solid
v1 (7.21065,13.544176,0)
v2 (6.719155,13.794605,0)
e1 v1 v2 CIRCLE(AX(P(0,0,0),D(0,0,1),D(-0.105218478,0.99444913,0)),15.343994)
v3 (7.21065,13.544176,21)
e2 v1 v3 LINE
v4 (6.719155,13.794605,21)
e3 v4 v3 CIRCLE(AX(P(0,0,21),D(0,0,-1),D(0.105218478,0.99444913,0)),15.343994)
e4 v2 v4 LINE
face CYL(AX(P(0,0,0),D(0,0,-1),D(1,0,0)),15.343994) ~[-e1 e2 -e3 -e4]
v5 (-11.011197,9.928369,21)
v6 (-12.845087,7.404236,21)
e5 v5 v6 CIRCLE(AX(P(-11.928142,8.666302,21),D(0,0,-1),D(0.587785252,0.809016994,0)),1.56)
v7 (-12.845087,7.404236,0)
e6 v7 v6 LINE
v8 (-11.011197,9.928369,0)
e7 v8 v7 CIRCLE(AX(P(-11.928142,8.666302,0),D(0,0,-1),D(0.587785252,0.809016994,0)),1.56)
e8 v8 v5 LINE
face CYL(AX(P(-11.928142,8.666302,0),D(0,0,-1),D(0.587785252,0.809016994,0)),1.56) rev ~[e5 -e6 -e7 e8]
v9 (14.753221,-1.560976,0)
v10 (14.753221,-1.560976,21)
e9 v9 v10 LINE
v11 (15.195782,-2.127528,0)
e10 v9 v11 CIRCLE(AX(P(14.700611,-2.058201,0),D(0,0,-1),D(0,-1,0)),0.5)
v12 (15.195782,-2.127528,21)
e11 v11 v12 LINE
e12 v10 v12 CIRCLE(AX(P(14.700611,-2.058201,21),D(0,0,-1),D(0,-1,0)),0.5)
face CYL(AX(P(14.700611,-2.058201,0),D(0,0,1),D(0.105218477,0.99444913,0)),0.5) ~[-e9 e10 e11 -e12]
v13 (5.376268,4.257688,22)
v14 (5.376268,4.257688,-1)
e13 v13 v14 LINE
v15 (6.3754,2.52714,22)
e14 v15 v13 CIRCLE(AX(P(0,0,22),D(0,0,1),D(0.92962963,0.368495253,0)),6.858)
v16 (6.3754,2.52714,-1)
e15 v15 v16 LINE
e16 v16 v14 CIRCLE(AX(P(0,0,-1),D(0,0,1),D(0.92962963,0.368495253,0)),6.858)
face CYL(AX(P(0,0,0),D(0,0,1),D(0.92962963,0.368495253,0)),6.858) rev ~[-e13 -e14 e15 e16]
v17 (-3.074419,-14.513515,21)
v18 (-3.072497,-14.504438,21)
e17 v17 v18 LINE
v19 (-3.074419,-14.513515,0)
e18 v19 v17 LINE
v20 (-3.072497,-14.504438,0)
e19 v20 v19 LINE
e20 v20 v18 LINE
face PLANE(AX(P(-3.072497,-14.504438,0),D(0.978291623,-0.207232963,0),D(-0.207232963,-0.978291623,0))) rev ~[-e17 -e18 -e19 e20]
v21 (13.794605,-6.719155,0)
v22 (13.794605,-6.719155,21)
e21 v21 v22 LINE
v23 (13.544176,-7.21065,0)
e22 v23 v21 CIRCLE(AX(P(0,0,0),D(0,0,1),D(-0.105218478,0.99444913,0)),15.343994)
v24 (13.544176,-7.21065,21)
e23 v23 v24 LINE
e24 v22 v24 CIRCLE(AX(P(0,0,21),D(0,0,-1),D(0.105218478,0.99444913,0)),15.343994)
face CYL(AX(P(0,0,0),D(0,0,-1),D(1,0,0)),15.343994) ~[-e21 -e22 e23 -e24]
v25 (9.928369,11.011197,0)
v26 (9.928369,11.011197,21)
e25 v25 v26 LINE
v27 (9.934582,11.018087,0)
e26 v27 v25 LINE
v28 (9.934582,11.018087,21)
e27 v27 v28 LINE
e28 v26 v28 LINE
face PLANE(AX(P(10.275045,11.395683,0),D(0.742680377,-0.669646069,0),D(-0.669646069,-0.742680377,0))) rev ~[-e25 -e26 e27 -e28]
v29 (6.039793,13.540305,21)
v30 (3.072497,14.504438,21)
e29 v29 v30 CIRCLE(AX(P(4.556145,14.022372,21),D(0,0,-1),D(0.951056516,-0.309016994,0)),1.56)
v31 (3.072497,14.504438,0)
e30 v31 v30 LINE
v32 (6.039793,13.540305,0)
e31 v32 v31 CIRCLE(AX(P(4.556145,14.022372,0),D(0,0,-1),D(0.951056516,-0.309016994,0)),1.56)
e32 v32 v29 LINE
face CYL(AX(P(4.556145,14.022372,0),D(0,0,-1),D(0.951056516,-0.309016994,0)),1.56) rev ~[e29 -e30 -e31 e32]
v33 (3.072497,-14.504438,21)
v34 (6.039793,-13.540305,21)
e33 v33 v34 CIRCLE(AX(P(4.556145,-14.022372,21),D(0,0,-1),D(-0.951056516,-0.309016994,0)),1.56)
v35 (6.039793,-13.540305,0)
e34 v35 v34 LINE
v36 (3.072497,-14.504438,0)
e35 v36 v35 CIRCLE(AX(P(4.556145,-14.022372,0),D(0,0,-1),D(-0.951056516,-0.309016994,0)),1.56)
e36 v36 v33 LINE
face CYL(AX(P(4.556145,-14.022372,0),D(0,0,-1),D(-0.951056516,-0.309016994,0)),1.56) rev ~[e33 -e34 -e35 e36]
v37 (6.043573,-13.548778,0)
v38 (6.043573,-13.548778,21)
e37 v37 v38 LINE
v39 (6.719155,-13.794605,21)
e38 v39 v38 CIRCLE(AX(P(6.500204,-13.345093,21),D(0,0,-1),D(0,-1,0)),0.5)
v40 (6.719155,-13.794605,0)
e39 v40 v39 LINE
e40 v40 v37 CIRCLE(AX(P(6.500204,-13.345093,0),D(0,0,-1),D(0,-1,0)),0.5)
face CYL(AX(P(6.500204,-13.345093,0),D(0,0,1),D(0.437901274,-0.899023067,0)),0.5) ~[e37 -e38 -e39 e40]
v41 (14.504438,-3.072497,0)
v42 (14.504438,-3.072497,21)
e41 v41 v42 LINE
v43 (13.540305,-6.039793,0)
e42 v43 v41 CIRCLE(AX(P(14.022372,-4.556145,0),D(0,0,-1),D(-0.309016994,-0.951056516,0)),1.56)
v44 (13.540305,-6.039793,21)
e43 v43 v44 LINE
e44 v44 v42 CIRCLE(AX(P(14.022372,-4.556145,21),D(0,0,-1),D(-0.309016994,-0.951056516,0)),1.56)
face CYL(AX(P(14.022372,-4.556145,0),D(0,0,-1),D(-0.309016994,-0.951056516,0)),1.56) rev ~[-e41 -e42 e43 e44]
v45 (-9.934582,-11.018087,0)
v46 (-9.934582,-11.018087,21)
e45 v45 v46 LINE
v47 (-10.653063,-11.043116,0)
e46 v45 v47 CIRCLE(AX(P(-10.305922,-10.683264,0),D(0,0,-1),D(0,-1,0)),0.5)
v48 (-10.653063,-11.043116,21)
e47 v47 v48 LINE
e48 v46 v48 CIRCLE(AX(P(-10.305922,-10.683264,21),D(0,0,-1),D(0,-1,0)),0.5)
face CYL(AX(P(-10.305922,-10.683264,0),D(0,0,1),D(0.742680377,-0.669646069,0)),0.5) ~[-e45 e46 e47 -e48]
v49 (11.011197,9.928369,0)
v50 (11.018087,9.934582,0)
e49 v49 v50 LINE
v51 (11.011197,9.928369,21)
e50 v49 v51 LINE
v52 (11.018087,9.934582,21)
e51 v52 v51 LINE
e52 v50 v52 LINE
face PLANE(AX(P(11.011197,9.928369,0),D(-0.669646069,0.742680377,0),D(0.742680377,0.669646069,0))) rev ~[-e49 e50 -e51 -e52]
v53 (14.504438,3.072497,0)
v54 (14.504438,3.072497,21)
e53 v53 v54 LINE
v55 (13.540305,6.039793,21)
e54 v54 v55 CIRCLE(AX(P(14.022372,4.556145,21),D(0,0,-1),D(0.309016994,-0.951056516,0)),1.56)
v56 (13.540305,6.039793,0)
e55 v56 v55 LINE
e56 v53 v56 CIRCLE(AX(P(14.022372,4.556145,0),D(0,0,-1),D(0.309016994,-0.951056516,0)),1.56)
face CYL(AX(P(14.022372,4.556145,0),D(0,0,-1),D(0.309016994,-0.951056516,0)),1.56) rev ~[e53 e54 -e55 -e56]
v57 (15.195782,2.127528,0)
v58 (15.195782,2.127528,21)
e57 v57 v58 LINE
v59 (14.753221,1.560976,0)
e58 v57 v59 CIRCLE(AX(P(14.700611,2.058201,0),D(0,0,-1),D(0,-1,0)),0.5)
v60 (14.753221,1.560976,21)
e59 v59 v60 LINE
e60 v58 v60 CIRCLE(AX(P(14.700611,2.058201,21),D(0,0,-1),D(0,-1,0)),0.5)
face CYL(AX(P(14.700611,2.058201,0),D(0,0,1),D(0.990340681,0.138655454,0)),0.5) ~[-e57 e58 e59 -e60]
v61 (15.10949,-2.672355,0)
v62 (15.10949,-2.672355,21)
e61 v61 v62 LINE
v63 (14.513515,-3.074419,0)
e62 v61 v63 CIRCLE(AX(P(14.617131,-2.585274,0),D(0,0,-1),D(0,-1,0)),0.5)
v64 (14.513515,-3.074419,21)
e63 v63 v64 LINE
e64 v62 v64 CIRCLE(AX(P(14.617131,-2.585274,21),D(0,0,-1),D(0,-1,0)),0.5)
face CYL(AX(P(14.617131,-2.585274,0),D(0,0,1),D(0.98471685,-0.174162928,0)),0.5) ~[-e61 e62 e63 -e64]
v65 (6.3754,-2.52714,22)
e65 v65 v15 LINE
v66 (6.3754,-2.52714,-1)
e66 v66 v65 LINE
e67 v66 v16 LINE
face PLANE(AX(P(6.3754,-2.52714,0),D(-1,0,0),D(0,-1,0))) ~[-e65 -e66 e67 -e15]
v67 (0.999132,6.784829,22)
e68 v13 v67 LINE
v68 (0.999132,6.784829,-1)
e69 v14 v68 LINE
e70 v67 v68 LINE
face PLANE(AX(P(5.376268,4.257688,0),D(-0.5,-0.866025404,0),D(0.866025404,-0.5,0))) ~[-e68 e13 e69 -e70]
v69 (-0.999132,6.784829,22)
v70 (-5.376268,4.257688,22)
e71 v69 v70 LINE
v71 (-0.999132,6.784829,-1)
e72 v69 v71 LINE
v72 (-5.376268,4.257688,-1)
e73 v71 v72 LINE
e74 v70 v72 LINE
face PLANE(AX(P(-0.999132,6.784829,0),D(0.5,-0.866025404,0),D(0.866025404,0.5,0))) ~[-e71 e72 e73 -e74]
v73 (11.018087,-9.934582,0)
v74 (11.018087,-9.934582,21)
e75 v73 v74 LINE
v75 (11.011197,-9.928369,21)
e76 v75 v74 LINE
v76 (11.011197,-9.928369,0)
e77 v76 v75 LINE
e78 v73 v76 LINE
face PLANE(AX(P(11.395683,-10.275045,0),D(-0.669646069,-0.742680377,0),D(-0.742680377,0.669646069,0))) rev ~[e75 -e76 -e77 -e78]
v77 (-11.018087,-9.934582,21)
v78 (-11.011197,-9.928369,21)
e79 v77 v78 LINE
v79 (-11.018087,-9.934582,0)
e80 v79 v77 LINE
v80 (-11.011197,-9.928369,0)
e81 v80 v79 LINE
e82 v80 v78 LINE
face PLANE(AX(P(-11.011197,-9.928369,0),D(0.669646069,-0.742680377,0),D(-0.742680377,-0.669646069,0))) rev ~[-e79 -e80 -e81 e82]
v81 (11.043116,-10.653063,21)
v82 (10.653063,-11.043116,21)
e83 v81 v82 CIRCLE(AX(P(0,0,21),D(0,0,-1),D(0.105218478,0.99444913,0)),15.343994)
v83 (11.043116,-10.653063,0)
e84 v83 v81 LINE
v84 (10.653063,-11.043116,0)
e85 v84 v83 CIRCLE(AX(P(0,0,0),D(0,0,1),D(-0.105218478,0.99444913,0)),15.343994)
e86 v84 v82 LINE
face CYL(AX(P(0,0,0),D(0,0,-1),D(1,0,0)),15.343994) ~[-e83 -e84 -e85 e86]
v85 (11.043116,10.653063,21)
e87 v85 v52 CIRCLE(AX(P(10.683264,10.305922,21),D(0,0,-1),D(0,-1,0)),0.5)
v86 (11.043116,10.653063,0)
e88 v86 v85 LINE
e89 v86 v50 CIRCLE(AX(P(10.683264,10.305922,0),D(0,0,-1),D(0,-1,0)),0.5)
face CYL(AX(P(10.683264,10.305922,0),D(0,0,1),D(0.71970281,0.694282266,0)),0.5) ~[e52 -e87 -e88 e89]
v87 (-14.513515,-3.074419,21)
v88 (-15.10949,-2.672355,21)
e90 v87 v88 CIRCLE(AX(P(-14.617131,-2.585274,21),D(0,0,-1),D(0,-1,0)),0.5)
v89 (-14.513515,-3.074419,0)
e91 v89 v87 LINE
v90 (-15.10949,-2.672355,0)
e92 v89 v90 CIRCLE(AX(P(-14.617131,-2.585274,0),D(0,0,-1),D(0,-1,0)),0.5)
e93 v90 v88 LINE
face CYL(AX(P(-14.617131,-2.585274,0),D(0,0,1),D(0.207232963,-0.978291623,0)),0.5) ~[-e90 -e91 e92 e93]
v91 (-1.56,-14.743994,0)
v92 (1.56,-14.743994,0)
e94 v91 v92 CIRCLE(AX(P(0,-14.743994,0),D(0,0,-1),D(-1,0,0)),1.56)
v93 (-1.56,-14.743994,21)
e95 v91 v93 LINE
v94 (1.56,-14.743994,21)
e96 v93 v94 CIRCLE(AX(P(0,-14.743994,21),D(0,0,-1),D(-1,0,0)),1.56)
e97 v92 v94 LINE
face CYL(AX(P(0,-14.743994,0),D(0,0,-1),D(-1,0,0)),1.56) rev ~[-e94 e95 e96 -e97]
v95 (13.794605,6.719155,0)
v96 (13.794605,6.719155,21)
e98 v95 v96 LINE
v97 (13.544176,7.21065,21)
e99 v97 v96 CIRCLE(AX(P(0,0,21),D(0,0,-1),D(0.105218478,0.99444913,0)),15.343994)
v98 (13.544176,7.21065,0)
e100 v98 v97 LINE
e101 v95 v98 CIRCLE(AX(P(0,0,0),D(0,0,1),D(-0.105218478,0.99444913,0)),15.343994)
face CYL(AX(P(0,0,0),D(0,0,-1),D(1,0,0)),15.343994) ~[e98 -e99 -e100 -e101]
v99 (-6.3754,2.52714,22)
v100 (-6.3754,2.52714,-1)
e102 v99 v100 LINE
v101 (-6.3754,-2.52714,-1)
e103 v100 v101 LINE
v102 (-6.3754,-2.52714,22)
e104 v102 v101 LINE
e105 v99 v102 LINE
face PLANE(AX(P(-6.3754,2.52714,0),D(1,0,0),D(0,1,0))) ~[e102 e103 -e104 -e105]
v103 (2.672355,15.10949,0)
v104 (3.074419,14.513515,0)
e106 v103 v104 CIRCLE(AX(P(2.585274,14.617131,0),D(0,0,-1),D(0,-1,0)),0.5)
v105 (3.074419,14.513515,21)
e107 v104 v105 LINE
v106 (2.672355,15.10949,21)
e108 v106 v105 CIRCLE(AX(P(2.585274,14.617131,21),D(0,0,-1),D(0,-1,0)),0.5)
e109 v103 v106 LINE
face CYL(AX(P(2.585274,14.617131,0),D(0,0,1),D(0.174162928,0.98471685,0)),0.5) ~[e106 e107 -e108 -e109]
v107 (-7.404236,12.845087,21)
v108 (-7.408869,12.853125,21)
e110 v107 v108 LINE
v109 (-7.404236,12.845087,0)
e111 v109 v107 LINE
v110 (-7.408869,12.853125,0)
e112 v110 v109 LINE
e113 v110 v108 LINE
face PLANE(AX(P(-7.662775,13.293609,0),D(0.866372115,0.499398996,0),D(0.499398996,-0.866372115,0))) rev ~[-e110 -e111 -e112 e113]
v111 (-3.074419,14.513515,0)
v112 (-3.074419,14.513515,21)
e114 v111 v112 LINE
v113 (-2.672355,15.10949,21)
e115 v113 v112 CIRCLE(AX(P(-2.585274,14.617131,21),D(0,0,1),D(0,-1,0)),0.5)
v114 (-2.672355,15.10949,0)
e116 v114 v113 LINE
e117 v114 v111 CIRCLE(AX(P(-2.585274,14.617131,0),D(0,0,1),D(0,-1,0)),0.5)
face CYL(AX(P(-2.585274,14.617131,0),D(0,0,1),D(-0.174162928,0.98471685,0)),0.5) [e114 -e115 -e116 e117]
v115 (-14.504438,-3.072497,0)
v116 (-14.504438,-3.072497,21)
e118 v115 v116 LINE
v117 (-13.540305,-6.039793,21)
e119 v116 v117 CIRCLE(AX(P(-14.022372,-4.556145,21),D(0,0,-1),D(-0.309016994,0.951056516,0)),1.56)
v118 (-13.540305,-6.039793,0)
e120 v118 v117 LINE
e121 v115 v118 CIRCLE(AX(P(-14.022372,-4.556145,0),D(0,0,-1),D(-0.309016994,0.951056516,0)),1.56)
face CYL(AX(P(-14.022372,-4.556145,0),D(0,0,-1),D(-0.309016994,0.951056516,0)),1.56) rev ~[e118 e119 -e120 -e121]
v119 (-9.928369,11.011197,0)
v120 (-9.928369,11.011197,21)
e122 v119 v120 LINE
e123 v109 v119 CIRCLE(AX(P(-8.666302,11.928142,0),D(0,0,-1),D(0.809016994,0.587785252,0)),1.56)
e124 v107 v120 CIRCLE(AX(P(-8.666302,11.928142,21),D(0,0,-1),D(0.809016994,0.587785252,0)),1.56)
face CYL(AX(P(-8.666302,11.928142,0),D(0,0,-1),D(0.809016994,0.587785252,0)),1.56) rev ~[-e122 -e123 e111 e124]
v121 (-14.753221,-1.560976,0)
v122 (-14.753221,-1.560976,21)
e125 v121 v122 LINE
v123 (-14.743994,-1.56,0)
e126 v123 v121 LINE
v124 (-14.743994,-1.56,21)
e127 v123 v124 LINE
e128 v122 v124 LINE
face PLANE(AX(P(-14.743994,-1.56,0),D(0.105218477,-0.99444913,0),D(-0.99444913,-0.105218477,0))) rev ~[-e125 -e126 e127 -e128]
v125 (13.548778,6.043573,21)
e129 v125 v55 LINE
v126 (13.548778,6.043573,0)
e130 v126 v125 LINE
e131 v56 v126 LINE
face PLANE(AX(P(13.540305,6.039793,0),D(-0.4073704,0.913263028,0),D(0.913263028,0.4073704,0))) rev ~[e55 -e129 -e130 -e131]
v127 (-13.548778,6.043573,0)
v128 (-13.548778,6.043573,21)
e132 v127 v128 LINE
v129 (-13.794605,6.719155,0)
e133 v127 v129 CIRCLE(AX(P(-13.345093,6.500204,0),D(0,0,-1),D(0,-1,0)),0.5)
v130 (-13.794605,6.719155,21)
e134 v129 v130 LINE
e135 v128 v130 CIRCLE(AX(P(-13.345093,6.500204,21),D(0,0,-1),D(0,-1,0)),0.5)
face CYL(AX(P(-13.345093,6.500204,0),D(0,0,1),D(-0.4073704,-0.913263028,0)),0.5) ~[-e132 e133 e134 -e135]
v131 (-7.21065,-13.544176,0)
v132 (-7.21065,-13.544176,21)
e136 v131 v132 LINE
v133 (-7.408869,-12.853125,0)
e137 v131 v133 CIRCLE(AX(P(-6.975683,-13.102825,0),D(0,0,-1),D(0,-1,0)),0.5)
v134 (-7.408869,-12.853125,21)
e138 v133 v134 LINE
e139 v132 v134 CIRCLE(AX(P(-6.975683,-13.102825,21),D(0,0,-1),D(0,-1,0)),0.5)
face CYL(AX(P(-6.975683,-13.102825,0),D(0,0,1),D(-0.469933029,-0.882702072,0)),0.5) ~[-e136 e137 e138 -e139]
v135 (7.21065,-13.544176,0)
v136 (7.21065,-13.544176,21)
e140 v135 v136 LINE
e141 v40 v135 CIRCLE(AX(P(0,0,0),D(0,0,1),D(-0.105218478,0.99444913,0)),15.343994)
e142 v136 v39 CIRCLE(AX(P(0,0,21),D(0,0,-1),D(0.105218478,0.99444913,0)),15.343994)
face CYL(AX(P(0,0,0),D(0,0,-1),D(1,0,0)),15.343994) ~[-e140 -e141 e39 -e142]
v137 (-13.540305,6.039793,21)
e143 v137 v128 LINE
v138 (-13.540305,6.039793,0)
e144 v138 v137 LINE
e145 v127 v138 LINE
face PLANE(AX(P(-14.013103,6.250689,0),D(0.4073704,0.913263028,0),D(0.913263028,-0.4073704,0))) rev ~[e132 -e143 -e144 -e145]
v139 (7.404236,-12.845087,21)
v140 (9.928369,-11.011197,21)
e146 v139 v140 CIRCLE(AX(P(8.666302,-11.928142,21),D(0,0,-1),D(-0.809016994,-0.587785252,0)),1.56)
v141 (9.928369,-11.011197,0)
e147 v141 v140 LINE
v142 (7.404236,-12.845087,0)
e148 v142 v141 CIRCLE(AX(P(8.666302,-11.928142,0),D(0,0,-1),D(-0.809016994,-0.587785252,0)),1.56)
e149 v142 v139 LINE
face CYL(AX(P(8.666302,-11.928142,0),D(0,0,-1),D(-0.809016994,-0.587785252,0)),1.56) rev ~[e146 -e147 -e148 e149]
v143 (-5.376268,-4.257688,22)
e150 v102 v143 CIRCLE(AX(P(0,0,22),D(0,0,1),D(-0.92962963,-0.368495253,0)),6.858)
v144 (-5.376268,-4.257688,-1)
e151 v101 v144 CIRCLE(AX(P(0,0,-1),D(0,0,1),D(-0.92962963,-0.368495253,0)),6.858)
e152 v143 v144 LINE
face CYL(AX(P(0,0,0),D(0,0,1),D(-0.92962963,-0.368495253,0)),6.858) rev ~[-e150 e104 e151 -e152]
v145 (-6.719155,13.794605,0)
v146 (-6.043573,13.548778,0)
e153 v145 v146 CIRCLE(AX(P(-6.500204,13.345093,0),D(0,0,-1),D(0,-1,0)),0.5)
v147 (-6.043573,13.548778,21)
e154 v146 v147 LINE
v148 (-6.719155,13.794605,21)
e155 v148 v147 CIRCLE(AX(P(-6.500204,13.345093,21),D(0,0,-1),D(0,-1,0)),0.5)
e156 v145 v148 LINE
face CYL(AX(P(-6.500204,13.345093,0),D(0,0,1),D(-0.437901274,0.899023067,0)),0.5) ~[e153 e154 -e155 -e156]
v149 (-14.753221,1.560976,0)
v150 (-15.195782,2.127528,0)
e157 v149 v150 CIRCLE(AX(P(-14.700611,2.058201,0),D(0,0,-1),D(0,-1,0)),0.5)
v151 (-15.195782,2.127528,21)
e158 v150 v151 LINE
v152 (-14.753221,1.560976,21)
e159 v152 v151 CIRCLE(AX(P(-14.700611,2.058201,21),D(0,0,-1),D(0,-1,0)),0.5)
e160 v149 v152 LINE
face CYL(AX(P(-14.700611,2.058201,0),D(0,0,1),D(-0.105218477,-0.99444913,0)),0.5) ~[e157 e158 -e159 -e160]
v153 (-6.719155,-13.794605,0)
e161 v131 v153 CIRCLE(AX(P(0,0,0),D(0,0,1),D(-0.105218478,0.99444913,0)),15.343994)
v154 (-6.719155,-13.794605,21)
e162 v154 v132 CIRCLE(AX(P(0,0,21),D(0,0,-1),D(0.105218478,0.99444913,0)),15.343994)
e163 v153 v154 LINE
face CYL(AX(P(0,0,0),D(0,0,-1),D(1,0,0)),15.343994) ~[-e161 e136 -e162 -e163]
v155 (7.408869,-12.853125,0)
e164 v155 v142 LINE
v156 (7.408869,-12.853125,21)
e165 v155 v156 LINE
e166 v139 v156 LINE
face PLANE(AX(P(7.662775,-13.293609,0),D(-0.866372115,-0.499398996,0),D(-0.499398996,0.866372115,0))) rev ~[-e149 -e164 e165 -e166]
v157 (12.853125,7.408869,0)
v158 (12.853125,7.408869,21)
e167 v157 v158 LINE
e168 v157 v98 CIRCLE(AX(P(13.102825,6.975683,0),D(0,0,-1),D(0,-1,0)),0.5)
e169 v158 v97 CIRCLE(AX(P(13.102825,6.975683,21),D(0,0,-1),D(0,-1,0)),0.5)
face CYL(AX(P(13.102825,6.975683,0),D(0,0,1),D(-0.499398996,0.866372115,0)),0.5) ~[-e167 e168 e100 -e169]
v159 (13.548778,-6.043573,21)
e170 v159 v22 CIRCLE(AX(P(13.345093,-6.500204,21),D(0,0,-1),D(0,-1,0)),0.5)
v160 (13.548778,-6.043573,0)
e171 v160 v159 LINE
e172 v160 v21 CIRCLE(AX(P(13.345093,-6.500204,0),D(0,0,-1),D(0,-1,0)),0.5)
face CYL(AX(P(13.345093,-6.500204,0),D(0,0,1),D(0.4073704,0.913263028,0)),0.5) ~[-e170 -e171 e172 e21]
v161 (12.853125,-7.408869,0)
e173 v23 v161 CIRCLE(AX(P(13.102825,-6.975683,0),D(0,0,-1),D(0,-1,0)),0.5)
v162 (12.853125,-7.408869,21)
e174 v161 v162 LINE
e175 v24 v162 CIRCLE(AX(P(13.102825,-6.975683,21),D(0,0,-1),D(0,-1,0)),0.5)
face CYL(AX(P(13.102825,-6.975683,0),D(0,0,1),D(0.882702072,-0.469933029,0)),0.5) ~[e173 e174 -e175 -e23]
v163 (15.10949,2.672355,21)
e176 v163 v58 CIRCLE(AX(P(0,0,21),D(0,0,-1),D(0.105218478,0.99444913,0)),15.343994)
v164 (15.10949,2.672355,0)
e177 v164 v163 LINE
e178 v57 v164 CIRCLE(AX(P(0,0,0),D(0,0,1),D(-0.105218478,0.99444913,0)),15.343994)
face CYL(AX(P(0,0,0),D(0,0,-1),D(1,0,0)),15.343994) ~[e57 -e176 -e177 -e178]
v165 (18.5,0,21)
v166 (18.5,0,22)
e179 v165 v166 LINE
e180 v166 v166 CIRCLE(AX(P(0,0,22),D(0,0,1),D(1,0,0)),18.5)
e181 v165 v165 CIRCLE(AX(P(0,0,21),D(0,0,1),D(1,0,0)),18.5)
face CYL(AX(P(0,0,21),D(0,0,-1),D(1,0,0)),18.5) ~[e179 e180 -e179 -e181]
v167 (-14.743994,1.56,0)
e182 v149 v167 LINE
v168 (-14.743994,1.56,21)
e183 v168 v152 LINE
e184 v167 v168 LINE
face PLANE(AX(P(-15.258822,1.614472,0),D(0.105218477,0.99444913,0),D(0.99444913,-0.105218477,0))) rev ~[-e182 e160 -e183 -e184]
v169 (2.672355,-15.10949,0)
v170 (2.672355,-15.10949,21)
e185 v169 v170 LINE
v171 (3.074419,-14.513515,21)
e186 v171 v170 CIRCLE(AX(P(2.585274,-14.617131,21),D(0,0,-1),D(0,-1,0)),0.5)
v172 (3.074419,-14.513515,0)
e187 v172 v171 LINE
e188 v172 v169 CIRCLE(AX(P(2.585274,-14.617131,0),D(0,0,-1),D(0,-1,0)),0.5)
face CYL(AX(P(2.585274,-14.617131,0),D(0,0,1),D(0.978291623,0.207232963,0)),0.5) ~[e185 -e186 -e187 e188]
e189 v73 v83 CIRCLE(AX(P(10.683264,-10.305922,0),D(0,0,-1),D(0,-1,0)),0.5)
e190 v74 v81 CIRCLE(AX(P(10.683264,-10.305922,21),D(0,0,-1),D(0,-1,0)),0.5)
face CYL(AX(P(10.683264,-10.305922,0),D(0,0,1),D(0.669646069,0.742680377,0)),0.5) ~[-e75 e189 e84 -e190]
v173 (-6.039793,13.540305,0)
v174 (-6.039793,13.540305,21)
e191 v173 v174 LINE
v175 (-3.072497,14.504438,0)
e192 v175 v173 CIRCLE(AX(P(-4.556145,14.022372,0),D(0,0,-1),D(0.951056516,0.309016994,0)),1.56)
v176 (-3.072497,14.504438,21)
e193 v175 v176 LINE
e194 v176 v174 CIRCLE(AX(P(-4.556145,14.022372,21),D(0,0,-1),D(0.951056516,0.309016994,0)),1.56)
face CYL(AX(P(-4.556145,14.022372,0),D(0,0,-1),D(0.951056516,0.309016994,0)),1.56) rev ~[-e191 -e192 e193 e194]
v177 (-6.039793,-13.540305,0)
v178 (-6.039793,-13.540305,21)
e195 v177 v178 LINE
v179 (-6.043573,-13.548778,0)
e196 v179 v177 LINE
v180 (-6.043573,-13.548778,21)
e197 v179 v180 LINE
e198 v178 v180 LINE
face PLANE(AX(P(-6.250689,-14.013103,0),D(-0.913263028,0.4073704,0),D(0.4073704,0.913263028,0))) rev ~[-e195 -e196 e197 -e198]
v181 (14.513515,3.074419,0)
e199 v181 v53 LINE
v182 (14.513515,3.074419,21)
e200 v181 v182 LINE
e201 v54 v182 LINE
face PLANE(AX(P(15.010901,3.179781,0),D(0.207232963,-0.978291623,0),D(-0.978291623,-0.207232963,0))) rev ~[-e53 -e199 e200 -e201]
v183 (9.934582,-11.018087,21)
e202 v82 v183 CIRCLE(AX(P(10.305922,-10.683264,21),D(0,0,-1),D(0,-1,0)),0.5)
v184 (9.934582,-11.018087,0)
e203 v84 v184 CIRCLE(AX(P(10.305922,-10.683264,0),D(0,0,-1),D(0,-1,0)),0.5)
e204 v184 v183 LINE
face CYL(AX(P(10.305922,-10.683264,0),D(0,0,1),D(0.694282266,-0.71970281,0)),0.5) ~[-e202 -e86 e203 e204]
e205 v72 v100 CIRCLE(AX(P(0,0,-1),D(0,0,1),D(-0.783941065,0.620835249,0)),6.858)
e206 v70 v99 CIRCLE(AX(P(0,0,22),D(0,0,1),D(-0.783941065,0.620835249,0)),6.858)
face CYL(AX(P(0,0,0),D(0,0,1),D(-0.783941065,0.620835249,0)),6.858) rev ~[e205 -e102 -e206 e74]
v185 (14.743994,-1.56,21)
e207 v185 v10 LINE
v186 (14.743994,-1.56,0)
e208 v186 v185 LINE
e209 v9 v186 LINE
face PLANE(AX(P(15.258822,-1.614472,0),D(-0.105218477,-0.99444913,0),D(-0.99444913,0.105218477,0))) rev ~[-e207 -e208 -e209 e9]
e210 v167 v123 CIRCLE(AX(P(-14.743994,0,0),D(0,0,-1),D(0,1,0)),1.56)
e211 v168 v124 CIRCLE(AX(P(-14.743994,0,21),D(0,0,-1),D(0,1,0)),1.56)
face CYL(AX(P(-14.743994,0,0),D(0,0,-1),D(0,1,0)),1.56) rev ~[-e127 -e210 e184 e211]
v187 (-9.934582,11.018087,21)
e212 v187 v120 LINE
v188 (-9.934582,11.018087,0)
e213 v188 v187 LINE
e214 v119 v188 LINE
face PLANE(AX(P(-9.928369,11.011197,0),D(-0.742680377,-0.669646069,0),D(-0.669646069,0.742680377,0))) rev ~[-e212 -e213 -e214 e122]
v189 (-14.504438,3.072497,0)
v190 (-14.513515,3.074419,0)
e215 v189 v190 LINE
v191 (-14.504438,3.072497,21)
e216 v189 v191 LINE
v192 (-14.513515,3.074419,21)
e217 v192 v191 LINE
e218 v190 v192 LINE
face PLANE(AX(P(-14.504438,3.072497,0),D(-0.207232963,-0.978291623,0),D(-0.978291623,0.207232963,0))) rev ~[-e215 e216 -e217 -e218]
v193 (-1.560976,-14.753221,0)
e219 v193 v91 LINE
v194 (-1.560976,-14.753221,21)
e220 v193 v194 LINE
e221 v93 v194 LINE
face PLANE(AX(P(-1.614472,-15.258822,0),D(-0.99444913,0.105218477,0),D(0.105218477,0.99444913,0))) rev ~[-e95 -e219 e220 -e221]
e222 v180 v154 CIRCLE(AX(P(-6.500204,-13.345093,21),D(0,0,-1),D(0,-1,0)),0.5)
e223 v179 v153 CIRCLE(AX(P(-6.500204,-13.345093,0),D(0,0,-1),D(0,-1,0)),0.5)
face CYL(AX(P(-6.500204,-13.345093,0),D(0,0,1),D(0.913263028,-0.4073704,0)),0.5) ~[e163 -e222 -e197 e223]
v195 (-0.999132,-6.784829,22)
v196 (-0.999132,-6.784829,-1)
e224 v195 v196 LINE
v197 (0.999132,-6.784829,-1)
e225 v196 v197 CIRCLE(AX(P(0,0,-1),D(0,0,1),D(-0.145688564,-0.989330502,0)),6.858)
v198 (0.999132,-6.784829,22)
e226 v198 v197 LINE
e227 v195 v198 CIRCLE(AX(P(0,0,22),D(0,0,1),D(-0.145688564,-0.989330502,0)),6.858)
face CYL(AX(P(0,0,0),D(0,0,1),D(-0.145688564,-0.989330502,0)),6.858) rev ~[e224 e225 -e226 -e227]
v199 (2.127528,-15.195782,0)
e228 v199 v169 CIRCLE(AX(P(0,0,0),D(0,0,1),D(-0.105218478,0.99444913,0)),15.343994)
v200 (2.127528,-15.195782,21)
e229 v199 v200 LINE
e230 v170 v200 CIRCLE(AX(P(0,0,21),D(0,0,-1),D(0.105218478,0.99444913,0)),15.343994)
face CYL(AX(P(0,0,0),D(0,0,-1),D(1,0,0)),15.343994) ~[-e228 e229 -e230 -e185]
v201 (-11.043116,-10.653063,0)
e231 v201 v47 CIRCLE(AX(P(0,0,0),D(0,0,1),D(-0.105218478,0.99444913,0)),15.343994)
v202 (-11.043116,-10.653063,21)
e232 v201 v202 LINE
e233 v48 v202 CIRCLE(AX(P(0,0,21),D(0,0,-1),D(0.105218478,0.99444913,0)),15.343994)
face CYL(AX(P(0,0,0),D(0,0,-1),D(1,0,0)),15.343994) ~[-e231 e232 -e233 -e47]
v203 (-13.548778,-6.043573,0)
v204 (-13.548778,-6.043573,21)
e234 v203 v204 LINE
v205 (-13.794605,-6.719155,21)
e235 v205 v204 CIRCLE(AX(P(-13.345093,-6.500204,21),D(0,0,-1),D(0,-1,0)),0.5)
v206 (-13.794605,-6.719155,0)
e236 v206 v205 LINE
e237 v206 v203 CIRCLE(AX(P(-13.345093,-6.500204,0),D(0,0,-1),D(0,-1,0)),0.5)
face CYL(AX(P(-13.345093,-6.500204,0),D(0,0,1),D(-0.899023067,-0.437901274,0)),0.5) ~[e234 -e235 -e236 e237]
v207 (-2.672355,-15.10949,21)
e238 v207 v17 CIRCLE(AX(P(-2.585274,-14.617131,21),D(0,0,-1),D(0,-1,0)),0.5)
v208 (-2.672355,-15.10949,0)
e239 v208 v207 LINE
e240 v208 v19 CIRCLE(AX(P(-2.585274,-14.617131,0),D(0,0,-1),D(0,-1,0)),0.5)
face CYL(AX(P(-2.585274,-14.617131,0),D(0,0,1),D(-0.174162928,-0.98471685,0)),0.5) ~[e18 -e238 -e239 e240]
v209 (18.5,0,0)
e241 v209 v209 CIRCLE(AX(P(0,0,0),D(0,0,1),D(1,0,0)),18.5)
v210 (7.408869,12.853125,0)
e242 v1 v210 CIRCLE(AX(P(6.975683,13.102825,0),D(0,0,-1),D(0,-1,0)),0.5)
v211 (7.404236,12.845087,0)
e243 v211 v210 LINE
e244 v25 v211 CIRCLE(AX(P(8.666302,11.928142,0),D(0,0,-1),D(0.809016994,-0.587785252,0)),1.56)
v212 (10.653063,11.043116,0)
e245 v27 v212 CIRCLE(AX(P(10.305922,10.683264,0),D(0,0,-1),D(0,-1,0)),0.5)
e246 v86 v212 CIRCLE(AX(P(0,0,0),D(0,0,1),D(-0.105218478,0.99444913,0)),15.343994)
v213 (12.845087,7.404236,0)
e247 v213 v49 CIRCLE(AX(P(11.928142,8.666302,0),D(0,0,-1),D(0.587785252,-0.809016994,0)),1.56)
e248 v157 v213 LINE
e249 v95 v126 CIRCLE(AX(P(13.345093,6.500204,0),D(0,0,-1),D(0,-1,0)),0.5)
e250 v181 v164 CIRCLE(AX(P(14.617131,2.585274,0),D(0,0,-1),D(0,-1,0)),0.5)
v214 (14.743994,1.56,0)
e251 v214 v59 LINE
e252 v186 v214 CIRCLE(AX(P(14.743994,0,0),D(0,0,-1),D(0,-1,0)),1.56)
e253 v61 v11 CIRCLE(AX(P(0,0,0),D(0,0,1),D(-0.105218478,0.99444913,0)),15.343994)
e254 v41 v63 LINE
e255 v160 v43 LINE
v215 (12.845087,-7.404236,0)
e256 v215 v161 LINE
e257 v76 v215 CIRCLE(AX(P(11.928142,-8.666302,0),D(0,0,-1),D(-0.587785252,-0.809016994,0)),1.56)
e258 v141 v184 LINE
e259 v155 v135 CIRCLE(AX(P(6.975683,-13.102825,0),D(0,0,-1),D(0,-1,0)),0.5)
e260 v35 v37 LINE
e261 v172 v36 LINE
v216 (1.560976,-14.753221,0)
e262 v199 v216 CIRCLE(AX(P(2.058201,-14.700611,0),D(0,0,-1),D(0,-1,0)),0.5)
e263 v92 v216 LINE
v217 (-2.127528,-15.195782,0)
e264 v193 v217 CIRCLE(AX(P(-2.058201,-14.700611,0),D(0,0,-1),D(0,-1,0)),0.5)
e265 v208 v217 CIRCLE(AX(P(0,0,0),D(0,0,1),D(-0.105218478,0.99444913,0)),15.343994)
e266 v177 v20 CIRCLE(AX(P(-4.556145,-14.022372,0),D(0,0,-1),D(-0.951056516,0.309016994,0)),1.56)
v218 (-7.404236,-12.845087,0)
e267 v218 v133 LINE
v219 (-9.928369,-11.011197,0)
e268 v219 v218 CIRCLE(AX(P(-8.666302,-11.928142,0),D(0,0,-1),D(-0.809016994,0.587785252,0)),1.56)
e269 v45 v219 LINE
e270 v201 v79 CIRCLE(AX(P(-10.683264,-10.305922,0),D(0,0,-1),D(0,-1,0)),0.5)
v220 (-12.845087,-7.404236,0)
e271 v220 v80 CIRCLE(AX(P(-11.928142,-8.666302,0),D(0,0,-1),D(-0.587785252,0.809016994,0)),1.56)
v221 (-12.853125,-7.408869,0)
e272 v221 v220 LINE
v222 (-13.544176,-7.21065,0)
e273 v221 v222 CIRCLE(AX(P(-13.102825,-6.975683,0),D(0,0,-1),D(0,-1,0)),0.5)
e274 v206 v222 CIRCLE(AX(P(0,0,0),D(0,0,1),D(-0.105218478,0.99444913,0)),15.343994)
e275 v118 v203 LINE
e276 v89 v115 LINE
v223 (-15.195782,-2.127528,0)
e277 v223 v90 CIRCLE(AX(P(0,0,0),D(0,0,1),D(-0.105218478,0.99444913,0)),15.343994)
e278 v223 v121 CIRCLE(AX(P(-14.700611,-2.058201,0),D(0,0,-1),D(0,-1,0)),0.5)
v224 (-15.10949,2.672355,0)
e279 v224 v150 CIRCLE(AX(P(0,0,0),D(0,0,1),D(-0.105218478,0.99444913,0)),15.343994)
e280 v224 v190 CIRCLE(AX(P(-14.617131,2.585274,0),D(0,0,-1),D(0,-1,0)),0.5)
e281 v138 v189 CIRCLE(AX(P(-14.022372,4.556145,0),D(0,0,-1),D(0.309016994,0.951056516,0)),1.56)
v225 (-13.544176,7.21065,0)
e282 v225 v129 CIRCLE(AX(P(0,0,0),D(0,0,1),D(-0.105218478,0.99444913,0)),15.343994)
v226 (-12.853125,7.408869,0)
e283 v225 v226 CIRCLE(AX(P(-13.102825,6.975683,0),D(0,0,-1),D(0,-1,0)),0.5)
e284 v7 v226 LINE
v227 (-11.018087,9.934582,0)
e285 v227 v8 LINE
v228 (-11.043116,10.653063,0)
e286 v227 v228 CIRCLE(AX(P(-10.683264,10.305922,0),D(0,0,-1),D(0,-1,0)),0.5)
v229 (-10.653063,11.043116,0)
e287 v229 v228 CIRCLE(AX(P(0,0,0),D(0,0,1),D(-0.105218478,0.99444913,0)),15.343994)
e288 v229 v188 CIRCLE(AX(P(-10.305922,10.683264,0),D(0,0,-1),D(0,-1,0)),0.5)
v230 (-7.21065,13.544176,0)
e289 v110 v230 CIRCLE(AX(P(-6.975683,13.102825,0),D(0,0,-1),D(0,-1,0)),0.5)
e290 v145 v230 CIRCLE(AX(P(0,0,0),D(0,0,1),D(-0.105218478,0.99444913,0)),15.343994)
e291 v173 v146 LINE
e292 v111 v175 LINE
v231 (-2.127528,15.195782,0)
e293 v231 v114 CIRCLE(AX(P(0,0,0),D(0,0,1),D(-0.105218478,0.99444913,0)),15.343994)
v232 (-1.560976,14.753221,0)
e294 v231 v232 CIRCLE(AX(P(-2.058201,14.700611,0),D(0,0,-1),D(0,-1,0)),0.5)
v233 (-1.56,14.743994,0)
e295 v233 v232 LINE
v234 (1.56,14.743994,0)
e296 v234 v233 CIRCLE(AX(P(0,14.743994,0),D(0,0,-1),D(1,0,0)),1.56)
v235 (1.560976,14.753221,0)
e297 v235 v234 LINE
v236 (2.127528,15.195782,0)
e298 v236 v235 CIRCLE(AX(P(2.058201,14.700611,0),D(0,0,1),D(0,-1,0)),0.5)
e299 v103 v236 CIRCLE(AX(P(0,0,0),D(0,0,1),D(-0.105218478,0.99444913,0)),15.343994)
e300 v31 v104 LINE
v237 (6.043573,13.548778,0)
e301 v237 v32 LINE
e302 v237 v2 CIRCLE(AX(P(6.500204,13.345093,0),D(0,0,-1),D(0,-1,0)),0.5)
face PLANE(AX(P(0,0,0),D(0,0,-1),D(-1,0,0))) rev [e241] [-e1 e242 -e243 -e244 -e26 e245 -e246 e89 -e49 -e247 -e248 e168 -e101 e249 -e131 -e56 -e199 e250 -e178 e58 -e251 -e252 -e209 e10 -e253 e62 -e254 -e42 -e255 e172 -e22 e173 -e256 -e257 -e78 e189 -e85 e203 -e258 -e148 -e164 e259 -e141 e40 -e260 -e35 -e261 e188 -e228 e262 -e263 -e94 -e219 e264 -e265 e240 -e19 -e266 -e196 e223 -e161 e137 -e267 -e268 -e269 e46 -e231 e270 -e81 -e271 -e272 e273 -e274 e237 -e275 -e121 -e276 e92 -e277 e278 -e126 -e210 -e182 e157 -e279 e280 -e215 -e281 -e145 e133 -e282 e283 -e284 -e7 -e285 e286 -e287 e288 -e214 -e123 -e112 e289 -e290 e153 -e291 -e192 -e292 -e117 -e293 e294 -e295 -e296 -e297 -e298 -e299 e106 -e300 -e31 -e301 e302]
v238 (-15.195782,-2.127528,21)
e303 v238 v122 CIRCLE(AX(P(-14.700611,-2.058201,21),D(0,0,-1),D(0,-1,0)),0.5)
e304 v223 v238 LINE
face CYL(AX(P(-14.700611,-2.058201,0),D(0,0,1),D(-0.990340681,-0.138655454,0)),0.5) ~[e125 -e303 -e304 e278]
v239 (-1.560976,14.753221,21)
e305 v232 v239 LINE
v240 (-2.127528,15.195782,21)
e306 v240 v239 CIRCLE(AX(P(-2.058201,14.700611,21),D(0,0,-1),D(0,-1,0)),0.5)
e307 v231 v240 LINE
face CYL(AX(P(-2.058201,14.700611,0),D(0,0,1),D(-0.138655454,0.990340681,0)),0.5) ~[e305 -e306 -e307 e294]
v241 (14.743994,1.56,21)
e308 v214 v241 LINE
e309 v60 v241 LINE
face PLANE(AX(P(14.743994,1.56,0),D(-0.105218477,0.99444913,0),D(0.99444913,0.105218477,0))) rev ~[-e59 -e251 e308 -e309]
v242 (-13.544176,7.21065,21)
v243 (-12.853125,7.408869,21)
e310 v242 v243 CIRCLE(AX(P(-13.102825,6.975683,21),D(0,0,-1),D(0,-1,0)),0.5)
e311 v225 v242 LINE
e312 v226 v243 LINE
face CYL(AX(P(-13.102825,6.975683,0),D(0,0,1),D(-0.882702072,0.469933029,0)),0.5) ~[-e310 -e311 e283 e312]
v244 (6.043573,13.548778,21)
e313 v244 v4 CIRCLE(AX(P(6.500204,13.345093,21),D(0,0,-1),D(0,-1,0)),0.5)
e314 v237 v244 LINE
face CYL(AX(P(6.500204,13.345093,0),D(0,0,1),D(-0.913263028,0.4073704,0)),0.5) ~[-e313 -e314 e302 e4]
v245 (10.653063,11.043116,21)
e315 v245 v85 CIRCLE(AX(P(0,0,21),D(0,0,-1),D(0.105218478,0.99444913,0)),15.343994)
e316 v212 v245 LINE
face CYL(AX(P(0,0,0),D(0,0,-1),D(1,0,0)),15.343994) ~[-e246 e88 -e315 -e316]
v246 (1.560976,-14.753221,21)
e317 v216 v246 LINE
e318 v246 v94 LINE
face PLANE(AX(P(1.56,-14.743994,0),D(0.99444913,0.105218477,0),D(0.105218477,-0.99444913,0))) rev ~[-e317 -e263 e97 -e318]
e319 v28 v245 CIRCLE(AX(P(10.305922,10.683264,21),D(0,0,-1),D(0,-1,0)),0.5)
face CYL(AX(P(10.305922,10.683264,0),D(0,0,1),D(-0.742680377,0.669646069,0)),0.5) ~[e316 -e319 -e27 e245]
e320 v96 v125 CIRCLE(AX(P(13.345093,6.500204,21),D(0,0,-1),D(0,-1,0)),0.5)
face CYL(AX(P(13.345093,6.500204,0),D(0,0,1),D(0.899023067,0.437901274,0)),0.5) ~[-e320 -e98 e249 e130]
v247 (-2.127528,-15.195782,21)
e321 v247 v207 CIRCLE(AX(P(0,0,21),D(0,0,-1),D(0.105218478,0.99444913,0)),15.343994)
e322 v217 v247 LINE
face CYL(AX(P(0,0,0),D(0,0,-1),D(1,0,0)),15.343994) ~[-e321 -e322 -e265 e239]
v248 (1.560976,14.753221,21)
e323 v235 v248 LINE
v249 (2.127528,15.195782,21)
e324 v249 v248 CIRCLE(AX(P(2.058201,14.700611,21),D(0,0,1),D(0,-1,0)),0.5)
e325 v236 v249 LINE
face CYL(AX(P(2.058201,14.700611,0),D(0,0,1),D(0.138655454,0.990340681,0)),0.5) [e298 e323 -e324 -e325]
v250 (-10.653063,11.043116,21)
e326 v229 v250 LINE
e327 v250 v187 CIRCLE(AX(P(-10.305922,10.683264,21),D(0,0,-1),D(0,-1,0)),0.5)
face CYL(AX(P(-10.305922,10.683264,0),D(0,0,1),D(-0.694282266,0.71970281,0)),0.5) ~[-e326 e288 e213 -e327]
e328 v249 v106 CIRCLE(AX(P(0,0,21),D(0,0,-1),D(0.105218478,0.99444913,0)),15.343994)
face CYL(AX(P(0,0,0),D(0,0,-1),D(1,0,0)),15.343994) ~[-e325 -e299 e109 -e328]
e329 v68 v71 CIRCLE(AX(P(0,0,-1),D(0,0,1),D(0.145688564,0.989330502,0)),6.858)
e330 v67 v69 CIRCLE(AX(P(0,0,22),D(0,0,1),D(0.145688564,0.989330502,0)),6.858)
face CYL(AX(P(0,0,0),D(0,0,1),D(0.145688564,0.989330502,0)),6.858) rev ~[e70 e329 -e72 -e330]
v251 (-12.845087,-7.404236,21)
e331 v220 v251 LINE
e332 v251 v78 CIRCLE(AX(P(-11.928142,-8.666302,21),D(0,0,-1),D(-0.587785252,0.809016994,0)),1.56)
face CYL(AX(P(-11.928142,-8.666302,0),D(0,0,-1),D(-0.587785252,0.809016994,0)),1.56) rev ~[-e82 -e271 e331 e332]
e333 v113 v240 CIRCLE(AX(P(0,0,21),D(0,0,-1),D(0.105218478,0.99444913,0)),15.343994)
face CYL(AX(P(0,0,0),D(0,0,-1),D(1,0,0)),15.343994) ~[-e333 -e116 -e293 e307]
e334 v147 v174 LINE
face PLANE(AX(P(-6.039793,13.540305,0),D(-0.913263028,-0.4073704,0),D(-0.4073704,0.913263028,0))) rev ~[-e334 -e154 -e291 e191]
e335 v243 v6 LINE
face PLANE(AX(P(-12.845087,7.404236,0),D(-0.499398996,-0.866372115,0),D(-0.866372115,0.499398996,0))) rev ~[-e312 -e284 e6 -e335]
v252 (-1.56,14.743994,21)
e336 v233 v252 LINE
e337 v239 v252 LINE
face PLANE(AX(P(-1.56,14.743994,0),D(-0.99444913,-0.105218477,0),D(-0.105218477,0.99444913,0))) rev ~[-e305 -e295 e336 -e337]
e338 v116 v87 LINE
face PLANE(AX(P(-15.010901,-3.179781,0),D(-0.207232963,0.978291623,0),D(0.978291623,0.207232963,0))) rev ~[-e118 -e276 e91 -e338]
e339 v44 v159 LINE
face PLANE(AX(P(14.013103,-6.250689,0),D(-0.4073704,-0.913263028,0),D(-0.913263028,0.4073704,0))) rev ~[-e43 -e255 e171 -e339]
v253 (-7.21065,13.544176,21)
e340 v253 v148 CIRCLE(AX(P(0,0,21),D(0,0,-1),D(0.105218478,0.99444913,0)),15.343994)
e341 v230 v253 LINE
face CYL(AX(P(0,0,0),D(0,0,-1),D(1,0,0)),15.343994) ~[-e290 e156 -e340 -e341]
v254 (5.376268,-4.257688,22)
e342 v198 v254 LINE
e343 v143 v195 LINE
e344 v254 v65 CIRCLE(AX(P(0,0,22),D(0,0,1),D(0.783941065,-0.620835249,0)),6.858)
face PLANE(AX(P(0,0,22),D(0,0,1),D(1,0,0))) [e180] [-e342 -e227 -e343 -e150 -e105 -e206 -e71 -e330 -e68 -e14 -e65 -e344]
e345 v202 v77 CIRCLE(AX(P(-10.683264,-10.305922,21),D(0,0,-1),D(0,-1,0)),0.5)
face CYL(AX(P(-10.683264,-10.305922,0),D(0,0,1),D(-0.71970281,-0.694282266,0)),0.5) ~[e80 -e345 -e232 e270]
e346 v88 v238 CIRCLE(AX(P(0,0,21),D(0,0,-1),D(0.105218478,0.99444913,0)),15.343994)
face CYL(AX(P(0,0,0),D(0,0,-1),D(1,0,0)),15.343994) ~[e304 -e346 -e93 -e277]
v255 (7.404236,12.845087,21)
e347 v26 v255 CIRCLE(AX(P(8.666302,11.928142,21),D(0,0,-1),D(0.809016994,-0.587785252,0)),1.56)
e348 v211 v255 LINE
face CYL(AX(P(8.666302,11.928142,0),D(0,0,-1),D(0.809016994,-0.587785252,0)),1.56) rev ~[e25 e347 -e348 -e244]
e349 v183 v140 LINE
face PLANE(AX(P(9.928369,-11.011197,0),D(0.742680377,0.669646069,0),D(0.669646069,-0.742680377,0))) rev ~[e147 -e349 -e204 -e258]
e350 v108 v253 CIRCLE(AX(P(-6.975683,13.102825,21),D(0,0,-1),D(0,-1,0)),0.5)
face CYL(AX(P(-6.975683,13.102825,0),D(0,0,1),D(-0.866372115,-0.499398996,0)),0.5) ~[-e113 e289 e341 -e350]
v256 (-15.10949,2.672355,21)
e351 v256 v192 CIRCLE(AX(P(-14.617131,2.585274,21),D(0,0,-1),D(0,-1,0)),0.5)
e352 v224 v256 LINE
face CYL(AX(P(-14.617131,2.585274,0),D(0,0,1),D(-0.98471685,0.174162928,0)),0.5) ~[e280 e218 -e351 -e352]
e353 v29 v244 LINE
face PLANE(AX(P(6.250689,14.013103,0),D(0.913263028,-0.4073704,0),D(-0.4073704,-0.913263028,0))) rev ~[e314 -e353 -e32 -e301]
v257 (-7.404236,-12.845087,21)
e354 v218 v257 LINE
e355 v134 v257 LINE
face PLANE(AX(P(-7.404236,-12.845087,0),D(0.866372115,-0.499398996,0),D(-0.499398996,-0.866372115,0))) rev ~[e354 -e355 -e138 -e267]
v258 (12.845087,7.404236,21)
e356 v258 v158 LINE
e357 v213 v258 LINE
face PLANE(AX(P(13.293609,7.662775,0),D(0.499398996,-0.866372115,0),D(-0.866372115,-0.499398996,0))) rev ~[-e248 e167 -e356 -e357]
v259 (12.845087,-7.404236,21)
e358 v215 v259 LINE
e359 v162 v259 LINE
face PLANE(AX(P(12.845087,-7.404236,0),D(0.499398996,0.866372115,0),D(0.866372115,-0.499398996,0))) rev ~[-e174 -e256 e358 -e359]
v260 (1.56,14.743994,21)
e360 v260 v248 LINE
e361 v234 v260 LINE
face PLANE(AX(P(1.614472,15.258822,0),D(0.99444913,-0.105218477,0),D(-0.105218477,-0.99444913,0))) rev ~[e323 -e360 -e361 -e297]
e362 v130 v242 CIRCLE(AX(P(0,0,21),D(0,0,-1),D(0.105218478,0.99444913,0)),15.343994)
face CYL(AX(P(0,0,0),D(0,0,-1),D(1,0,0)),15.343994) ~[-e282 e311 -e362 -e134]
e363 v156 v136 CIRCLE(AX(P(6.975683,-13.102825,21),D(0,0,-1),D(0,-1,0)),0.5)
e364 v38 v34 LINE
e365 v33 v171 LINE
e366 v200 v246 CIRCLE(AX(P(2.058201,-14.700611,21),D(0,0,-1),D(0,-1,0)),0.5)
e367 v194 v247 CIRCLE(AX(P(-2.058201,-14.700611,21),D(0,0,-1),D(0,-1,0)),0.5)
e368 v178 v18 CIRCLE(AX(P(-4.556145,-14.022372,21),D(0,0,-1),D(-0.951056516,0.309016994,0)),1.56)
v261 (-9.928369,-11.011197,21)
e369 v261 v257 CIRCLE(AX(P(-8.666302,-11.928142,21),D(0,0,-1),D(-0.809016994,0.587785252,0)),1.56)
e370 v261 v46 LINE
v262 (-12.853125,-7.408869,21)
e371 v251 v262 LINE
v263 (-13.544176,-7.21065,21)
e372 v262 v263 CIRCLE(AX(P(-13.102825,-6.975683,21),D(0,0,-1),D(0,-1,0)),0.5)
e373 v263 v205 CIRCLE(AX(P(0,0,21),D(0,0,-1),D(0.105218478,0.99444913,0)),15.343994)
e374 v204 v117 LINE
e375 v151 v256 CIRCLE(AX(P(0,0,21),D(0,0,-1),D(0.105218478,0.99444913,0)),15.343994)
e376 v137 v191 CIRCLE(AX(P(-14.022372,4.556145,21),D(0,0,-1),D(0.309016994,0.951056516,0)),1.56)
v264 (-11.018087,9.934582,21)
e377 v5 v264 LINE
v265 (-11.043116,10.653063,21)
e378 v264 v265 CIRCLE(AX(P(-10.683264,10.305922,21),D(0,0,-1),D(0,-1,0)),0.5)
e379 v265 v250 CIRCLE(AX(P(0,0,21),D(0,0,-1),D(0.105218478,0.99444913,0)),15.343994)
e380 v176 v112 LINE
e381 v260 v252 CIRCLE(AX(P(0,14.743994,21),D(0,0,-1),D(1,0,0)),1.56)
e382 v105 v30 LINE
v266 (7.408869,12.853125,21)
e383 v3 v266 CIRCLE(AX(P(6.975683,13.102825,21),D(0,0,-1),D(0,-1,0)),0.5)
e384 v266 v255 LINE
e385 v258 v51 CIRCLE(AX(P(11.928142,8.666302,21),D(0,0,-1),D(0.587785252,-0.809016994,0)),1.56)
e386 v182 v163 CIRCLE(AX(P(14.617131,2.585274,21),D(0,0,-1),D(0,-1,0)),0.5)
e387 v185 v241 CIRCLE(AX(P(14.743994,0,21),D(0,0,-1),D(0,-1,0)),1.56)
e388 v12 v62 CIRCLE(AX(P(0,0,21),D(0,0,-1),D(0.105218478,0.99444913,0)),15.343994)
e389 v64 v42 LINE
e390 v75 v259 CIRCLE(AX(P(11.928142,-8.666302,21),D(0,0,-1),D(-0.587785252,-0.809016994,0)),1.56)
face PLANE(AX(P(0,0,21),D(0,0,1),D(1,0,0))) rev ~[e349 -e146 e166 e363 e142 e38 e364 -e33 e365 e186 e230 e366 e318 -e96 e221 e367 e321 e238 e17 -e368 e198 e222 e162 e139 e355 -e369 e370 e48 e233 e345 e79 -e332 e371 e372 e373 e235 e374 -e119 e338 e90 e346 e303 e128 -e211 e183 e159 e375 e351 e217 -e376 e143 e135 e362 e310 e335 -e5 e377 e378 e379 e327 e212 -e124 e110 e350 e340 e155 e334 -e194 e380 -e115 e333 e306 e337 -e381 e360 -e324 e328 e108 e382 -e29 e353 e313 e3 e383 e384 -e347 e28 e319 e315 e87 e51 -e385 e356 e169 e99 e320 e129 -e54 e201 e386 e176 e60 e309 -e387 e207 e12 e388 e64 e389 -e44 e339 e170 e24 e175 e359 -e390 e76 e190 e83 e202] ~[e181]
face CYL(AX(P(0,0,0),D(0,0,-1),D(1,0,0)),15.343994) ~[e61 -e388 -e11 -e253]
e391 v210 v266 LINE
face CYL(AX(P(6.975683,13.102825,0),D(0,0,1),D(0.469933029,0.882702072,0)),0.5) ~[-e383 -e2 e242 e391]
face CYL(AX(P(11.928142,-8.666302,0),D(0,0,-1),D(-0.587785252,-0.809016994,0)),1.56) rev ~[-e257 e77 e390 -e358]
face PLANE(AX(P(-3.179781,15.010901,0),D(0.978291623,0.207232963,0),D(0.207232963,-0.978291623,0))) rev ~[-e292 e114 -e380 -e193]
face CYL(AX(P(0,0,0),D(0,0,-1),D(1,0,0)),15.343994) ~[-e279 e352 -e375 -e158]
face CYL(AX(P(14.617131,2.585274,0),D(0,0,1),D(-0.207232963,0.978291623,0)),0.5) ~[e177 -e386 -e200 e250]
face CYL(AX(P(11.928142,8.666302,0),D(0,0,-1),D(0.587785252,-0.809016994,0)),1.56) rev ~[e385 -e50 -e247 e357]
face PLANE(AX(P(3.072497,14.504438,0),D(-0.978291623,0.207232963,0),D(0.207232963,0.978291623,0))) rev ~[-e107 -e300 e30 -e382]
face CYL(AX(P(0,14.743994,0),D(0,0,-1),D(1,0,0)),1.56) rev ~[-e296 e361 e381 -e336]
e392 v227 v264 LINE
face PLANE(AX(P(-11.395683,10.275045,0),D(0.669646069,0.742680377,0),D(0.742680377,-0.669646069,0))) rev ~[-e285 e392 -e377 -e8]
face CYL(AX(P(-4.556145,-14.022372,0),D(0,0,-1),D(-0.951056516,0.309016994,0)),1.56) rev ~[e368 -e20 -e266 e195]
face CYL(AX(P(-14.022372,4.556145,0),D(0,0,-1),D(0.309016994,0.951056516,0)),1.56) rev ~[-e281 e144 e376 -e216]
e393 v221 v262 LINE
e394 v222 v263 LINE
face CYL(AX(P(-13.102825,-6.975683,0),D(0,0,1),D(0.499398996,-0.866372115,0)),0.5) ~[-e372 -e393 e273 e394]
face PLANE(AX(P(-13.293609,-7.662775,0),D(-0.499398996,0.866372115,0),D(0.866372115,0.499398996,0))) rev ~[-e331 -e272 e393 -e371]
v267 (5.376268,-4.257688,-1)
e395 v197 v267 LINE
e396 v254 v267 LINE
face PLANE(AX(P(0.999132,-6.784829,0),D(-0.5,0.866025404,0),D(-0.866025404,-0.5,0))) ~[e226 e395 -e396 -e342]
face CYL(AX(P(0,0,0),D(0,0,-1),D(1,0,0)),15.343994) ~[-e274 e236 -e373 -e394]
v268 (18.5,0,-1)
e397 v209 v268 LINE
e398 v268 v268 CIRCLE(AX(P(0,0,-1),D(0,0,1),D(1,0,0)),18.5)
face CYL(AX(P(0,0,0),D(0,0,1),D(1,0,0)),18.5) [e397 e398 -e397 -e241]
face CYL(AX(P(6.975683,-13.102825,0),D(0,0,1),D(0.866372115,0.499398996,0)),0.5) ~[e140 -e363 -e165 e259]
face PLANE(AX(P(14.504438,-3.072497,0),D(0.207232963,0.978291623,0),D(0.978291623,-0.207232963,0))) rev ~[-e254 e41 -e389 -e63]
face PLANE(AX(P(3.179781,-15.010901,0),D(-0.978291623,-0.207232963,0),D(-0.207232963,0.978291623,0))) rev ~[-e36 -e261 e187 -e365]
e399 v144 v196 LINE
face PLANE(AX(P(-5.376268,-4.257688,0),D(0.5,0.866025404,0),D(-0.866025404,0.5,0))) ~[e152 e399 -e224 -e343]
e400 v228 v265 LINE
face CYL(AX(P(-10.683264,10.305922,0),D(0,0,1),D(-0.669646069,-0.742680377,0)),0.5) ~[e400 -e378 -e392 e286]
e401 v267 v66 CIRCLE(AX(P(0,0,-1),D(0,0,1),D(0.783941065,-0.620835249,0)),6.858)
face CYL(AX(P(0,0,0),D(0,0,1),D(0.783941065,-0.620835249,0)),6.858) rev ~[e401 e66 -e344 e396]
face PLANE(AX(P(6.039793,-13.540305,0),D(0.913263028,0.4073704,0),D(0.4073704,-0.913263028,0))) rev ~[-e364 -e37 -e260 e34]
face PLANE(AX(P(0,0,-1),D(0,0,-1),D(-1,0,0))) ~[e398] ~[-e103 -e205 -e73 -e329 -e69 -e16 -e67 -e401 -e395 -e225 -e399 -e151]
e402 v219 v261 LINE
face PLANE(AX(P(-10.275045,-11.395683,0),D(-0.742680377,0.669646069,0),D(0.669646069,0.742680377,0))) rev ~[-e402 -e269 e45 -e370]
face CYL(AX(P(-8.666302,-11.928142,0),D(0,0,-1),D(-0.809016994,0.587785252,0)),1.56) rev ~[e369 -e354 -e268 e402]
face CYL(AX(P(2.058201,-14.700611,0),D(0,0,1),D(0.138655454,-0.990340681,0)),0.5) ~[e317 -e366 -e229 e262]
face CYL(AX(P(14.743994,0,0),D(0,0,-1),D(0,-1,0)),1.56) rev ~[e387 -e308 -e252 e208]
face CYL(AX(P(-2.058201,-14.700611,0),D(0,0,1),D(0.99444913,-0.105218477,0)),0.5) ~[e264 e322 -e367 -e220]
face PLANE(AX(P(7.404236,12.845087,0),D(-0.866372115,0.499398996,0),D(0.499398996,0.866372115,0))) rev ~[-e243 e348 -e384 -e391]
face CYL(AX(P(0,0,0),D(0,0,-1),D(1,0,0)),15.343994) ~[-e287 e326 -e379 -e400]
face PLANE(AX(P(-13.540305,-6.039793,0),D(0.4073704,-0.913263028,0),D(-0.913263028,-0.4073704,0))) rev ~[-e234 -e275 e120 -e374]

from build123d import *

# Parameters (mm, degrees)
SKETCH2_R                = 15.343994309
BOSS_EXTRUDE1_DEPTH      = 21
CUT_EXTRUDE1_DEPTH       = 22
FILLET1_R                = 0.5
CIRPATTERN1_COUNT        = 20
FILLET1_OF_CIRPATTERN1_R = 0.5
CUT_EXTRUDE2_DEPTH       = 22
SKETCH7_R                = 18.5
BOSS_EXTRUDE2_DEPTH      = 1


with BuildPart() as part:
    # Sketch2 → Boss-Extrude1 (new body)
    with BuildSketch(Plane.XY):
        Circle(SKETCH2_R)
    extrude(amount=BOSS_EXTRUDE1_DEPTH)

    # Sketch3 → Cut-Extrude1 (cut, through all)
    with BuildSketch(Plane(origin=(0, 0, 0), x_dir=(-1, 0, 0), z_dir=(0, 0, -1))):
        with BuildLine():
            Line((-1.614471729, 15.258821789), (-1.56, 14.743994309))
            ThreePointArc((-1.56, 14.743994309), (0, 13.183994309), (1.56, 14.743994309))
            Line((1.56, 14.743994309), (1.614471729, 15.258821789))
            ThreePointArc((1.614471729, 15.258821789), (0, 15.343994309), (-1.614471729, 15.258821789))
        make_face()
    cut_extrude1 = extrude(amount=-CUT_EXTRUDE1_DEPTH, mode=Mode.SUBTRACT)

    # Fillet1
    fillet1_edges = [part.edges().sort_by_distance(p)[0] for p in [
        (1.614471729, 15.258821789, 10.5),
        (-1.614471729, 15.258821789, 10.5),
    ]]
    fillet(fillet1_edges, radius=FILLET1_R)

    # CirPattern1: Cut-Extrude1 ×20 about axis
    cirpattern1_axis = Axis((0, 0, 0), (0, 0, 1))
    for i in range(1, CIRPATTERN1_COUNT):
        add(cut_extrude1.rotate(cirpattern1_axis, i * 360 / CIRPATTERN1_COUNT), mode=Mode.SUBTRACT)

    # Fillet1 of CirPattern1
    fillet1_of_cirpattern1_edges = [part.edges().sort_by_distance(p)[0] for p in [
        (-3.179781388, 15.010901095, 10.5),
        (-6.250689106, 14.013102692, 10.5),
        (-7.662775349, 13.293608814, 10.5),
        (-10.275045481, 11.395683469, 10.5),
        (-11.395683469, 10.275045481, 10.5),
        (-13.293608814, 7.662775349, 10.5),
        (-14.013102692, 6.250689106, 10.5),
        (-15.010901095, 3.179781388, 10.5),
        (-15.258821789, 1.614471729, 10.5),
        (-15.258821789, -1.614471729, 10.5),
        (-15.010901095, -3.179781388, 10.5),
        (-14.013102692, -6.250689106, 10.5),
        (-13.293608814, -7.662775349, 10.5),
        (-11.395683469, -10.275045481, 10.5),
        (-10.275045481, -11.395683469, 10.5),
        (-7.662775349, -13.293608814, 10.5),
        (-6.250689106, -14.013102692, 10.5),
        (-3.179781388, -15.010901095, 10.5),
        (-1.614471729, -15.258821789, 10.5),
        (1.614471729, -15.258821789, 10.5),
        (3.179781388, -15.010901095, 10.5),
        (6.250689106, -14.013102692, 10.5),
        (7.662775349, -13.293608814, 10.5),
        (10.275045481, -11.395683469, 10.5),
        (11.395683469, -10.275045481, 10.5),
        (13.293608814, -7.662775349, 10.5),
        (14.013102692, -6.250689106, 10.5),
        (15.010901095, -3.179781388, 10.5),
        (15.258821789, -1.614471729, 10.5),
        (15.258821789, 1.614471729, 10.5),
        (15.010901095, 3.179781388, 10.5),
        (14.013102692, 6.250689106, 10.5),
        (13.293608814, 7.662775349, 10.5),
        (11.395683469, 10.275045481, 10.5),
        (10.275045481, 11.395683469, 10.5),
        (7.662775349, 13.293608814, 10.5),
        (6.250689106, 14.013102692, 10.5),
        (3.179781388, 15.010901095, 10.5),
    ]]
    fillet(fillet1_of_cirpattern1_edges, radius=FILLET1_OF_CIRPATTERN1_R)

    # Sketch5 → Cut-Extrude2 (cut, through all)
    with BuildSketch(Plane(origin=(0, 0, 0), x_dir=(-1, 0, 0), z_dir=(0, 0, -1))):
        with BuildLine():
            Line((-6.3754, 2.527140447), (-6.3754, -2.527140447))
            ThreePointArc((-6.3754, -2.527140447), (-5.939202219, -3.429), (-5.376267826, -4.257688136))
            Line((-5.376267826, -4.257688136), (-0.999132174, -6.784828583))
            ThreePointArc((-0.999132174, -6.784828583), (0, -6.858), (0.999132174, -6.784828583))
            Line((0.999132174, -6.784828583), (5.376267826, -4.257688136))
            ThreePointArc((5.376267826, -4.257688136), (5.939202219, -3.429), (6.3754, -2.527140447))
            Line((6.3754, -2.527140447), (6.3754, 2.527140447))
            ThreePointArc((6.3754, 2.527140447), (5.939202219, 3.429), (5.376267826, 4.257688136))
            Line((5.376267826, 4.257688136), (0.999132174, 6.784828583))
            ThreePointArc((0.999132174, 6.784828583), (0, 6.858), (-0.999132174, 6.784828583))
            Line((-0.999132174, 6.784828583), (-5.376267826, 4.257688136))
            ThreePointArc((-5.376267826, 4.257688136), (-5.939202219, 3.429), (-6.3754, 2.527140447))
        make_face()
    extrude(amount=-CUT_EXTRUDE2_DEPTH, mode=Mode.SUBTRACT)

    # Sketch7 → Boss-Extrude2 (add)
    with BuildSketch(Plane.XY.offset(21)):
        Circle(SKETCH7_R)
        with BuildLine():
            Line((6.3754, -2.527140447), (6.3754, 2.527140447))
            ThreePointArc((6.3754, 2.527140447), (5.939202219, 3.429), (5.376267826, 4.257688136))
            Line((5.376267826, 4.257688136), (0.999132174, 6.784828583))
            ThreePointArc((0.999132174, 6.784828583), (0, 6.858), (-0.999132174, 6.784828583))
            Line((-0.999132174, 6.784828583), (-5.376267826, 4.257688136))
            ThreePointArc((-5.376267826, 4.257688136), (-5.939202219, 3.429), (-6.3754, 2.527140447))
            Line((-6.3754, 2.527140447), (-6.3754, -2.527140447))
            ThreePointArc((-6.3754, -2.527140447), (-5.939202219, -3.429), (-5.376267826, -4.257688136))
            Line((-5.376267826, -4.257688136), (-0.999132174, -6.784828583))
            ThreePointArc((-0.999132174, -6.784828583), (0, -6.858), (0.999132174, -6.784828583))
            Line((0.999132174, -6.784828583), (5.376267826, -4.257688136))
            ThreePointArc((5.376267826, -4.257688136), (5.939202219, -3.429), (6.3754, -2.527140447))
        make_face(mode=Mode.SUBTRACT)
    boss_extrude2 = extrude(amount=BOSS_EXTRUDE2_DEPTH)

    # Mirror1: Boss-Extrude2 across plane
    add(boss_extrude2.mirror(Plane.XY.offset(10.5)))


solid = part.part
